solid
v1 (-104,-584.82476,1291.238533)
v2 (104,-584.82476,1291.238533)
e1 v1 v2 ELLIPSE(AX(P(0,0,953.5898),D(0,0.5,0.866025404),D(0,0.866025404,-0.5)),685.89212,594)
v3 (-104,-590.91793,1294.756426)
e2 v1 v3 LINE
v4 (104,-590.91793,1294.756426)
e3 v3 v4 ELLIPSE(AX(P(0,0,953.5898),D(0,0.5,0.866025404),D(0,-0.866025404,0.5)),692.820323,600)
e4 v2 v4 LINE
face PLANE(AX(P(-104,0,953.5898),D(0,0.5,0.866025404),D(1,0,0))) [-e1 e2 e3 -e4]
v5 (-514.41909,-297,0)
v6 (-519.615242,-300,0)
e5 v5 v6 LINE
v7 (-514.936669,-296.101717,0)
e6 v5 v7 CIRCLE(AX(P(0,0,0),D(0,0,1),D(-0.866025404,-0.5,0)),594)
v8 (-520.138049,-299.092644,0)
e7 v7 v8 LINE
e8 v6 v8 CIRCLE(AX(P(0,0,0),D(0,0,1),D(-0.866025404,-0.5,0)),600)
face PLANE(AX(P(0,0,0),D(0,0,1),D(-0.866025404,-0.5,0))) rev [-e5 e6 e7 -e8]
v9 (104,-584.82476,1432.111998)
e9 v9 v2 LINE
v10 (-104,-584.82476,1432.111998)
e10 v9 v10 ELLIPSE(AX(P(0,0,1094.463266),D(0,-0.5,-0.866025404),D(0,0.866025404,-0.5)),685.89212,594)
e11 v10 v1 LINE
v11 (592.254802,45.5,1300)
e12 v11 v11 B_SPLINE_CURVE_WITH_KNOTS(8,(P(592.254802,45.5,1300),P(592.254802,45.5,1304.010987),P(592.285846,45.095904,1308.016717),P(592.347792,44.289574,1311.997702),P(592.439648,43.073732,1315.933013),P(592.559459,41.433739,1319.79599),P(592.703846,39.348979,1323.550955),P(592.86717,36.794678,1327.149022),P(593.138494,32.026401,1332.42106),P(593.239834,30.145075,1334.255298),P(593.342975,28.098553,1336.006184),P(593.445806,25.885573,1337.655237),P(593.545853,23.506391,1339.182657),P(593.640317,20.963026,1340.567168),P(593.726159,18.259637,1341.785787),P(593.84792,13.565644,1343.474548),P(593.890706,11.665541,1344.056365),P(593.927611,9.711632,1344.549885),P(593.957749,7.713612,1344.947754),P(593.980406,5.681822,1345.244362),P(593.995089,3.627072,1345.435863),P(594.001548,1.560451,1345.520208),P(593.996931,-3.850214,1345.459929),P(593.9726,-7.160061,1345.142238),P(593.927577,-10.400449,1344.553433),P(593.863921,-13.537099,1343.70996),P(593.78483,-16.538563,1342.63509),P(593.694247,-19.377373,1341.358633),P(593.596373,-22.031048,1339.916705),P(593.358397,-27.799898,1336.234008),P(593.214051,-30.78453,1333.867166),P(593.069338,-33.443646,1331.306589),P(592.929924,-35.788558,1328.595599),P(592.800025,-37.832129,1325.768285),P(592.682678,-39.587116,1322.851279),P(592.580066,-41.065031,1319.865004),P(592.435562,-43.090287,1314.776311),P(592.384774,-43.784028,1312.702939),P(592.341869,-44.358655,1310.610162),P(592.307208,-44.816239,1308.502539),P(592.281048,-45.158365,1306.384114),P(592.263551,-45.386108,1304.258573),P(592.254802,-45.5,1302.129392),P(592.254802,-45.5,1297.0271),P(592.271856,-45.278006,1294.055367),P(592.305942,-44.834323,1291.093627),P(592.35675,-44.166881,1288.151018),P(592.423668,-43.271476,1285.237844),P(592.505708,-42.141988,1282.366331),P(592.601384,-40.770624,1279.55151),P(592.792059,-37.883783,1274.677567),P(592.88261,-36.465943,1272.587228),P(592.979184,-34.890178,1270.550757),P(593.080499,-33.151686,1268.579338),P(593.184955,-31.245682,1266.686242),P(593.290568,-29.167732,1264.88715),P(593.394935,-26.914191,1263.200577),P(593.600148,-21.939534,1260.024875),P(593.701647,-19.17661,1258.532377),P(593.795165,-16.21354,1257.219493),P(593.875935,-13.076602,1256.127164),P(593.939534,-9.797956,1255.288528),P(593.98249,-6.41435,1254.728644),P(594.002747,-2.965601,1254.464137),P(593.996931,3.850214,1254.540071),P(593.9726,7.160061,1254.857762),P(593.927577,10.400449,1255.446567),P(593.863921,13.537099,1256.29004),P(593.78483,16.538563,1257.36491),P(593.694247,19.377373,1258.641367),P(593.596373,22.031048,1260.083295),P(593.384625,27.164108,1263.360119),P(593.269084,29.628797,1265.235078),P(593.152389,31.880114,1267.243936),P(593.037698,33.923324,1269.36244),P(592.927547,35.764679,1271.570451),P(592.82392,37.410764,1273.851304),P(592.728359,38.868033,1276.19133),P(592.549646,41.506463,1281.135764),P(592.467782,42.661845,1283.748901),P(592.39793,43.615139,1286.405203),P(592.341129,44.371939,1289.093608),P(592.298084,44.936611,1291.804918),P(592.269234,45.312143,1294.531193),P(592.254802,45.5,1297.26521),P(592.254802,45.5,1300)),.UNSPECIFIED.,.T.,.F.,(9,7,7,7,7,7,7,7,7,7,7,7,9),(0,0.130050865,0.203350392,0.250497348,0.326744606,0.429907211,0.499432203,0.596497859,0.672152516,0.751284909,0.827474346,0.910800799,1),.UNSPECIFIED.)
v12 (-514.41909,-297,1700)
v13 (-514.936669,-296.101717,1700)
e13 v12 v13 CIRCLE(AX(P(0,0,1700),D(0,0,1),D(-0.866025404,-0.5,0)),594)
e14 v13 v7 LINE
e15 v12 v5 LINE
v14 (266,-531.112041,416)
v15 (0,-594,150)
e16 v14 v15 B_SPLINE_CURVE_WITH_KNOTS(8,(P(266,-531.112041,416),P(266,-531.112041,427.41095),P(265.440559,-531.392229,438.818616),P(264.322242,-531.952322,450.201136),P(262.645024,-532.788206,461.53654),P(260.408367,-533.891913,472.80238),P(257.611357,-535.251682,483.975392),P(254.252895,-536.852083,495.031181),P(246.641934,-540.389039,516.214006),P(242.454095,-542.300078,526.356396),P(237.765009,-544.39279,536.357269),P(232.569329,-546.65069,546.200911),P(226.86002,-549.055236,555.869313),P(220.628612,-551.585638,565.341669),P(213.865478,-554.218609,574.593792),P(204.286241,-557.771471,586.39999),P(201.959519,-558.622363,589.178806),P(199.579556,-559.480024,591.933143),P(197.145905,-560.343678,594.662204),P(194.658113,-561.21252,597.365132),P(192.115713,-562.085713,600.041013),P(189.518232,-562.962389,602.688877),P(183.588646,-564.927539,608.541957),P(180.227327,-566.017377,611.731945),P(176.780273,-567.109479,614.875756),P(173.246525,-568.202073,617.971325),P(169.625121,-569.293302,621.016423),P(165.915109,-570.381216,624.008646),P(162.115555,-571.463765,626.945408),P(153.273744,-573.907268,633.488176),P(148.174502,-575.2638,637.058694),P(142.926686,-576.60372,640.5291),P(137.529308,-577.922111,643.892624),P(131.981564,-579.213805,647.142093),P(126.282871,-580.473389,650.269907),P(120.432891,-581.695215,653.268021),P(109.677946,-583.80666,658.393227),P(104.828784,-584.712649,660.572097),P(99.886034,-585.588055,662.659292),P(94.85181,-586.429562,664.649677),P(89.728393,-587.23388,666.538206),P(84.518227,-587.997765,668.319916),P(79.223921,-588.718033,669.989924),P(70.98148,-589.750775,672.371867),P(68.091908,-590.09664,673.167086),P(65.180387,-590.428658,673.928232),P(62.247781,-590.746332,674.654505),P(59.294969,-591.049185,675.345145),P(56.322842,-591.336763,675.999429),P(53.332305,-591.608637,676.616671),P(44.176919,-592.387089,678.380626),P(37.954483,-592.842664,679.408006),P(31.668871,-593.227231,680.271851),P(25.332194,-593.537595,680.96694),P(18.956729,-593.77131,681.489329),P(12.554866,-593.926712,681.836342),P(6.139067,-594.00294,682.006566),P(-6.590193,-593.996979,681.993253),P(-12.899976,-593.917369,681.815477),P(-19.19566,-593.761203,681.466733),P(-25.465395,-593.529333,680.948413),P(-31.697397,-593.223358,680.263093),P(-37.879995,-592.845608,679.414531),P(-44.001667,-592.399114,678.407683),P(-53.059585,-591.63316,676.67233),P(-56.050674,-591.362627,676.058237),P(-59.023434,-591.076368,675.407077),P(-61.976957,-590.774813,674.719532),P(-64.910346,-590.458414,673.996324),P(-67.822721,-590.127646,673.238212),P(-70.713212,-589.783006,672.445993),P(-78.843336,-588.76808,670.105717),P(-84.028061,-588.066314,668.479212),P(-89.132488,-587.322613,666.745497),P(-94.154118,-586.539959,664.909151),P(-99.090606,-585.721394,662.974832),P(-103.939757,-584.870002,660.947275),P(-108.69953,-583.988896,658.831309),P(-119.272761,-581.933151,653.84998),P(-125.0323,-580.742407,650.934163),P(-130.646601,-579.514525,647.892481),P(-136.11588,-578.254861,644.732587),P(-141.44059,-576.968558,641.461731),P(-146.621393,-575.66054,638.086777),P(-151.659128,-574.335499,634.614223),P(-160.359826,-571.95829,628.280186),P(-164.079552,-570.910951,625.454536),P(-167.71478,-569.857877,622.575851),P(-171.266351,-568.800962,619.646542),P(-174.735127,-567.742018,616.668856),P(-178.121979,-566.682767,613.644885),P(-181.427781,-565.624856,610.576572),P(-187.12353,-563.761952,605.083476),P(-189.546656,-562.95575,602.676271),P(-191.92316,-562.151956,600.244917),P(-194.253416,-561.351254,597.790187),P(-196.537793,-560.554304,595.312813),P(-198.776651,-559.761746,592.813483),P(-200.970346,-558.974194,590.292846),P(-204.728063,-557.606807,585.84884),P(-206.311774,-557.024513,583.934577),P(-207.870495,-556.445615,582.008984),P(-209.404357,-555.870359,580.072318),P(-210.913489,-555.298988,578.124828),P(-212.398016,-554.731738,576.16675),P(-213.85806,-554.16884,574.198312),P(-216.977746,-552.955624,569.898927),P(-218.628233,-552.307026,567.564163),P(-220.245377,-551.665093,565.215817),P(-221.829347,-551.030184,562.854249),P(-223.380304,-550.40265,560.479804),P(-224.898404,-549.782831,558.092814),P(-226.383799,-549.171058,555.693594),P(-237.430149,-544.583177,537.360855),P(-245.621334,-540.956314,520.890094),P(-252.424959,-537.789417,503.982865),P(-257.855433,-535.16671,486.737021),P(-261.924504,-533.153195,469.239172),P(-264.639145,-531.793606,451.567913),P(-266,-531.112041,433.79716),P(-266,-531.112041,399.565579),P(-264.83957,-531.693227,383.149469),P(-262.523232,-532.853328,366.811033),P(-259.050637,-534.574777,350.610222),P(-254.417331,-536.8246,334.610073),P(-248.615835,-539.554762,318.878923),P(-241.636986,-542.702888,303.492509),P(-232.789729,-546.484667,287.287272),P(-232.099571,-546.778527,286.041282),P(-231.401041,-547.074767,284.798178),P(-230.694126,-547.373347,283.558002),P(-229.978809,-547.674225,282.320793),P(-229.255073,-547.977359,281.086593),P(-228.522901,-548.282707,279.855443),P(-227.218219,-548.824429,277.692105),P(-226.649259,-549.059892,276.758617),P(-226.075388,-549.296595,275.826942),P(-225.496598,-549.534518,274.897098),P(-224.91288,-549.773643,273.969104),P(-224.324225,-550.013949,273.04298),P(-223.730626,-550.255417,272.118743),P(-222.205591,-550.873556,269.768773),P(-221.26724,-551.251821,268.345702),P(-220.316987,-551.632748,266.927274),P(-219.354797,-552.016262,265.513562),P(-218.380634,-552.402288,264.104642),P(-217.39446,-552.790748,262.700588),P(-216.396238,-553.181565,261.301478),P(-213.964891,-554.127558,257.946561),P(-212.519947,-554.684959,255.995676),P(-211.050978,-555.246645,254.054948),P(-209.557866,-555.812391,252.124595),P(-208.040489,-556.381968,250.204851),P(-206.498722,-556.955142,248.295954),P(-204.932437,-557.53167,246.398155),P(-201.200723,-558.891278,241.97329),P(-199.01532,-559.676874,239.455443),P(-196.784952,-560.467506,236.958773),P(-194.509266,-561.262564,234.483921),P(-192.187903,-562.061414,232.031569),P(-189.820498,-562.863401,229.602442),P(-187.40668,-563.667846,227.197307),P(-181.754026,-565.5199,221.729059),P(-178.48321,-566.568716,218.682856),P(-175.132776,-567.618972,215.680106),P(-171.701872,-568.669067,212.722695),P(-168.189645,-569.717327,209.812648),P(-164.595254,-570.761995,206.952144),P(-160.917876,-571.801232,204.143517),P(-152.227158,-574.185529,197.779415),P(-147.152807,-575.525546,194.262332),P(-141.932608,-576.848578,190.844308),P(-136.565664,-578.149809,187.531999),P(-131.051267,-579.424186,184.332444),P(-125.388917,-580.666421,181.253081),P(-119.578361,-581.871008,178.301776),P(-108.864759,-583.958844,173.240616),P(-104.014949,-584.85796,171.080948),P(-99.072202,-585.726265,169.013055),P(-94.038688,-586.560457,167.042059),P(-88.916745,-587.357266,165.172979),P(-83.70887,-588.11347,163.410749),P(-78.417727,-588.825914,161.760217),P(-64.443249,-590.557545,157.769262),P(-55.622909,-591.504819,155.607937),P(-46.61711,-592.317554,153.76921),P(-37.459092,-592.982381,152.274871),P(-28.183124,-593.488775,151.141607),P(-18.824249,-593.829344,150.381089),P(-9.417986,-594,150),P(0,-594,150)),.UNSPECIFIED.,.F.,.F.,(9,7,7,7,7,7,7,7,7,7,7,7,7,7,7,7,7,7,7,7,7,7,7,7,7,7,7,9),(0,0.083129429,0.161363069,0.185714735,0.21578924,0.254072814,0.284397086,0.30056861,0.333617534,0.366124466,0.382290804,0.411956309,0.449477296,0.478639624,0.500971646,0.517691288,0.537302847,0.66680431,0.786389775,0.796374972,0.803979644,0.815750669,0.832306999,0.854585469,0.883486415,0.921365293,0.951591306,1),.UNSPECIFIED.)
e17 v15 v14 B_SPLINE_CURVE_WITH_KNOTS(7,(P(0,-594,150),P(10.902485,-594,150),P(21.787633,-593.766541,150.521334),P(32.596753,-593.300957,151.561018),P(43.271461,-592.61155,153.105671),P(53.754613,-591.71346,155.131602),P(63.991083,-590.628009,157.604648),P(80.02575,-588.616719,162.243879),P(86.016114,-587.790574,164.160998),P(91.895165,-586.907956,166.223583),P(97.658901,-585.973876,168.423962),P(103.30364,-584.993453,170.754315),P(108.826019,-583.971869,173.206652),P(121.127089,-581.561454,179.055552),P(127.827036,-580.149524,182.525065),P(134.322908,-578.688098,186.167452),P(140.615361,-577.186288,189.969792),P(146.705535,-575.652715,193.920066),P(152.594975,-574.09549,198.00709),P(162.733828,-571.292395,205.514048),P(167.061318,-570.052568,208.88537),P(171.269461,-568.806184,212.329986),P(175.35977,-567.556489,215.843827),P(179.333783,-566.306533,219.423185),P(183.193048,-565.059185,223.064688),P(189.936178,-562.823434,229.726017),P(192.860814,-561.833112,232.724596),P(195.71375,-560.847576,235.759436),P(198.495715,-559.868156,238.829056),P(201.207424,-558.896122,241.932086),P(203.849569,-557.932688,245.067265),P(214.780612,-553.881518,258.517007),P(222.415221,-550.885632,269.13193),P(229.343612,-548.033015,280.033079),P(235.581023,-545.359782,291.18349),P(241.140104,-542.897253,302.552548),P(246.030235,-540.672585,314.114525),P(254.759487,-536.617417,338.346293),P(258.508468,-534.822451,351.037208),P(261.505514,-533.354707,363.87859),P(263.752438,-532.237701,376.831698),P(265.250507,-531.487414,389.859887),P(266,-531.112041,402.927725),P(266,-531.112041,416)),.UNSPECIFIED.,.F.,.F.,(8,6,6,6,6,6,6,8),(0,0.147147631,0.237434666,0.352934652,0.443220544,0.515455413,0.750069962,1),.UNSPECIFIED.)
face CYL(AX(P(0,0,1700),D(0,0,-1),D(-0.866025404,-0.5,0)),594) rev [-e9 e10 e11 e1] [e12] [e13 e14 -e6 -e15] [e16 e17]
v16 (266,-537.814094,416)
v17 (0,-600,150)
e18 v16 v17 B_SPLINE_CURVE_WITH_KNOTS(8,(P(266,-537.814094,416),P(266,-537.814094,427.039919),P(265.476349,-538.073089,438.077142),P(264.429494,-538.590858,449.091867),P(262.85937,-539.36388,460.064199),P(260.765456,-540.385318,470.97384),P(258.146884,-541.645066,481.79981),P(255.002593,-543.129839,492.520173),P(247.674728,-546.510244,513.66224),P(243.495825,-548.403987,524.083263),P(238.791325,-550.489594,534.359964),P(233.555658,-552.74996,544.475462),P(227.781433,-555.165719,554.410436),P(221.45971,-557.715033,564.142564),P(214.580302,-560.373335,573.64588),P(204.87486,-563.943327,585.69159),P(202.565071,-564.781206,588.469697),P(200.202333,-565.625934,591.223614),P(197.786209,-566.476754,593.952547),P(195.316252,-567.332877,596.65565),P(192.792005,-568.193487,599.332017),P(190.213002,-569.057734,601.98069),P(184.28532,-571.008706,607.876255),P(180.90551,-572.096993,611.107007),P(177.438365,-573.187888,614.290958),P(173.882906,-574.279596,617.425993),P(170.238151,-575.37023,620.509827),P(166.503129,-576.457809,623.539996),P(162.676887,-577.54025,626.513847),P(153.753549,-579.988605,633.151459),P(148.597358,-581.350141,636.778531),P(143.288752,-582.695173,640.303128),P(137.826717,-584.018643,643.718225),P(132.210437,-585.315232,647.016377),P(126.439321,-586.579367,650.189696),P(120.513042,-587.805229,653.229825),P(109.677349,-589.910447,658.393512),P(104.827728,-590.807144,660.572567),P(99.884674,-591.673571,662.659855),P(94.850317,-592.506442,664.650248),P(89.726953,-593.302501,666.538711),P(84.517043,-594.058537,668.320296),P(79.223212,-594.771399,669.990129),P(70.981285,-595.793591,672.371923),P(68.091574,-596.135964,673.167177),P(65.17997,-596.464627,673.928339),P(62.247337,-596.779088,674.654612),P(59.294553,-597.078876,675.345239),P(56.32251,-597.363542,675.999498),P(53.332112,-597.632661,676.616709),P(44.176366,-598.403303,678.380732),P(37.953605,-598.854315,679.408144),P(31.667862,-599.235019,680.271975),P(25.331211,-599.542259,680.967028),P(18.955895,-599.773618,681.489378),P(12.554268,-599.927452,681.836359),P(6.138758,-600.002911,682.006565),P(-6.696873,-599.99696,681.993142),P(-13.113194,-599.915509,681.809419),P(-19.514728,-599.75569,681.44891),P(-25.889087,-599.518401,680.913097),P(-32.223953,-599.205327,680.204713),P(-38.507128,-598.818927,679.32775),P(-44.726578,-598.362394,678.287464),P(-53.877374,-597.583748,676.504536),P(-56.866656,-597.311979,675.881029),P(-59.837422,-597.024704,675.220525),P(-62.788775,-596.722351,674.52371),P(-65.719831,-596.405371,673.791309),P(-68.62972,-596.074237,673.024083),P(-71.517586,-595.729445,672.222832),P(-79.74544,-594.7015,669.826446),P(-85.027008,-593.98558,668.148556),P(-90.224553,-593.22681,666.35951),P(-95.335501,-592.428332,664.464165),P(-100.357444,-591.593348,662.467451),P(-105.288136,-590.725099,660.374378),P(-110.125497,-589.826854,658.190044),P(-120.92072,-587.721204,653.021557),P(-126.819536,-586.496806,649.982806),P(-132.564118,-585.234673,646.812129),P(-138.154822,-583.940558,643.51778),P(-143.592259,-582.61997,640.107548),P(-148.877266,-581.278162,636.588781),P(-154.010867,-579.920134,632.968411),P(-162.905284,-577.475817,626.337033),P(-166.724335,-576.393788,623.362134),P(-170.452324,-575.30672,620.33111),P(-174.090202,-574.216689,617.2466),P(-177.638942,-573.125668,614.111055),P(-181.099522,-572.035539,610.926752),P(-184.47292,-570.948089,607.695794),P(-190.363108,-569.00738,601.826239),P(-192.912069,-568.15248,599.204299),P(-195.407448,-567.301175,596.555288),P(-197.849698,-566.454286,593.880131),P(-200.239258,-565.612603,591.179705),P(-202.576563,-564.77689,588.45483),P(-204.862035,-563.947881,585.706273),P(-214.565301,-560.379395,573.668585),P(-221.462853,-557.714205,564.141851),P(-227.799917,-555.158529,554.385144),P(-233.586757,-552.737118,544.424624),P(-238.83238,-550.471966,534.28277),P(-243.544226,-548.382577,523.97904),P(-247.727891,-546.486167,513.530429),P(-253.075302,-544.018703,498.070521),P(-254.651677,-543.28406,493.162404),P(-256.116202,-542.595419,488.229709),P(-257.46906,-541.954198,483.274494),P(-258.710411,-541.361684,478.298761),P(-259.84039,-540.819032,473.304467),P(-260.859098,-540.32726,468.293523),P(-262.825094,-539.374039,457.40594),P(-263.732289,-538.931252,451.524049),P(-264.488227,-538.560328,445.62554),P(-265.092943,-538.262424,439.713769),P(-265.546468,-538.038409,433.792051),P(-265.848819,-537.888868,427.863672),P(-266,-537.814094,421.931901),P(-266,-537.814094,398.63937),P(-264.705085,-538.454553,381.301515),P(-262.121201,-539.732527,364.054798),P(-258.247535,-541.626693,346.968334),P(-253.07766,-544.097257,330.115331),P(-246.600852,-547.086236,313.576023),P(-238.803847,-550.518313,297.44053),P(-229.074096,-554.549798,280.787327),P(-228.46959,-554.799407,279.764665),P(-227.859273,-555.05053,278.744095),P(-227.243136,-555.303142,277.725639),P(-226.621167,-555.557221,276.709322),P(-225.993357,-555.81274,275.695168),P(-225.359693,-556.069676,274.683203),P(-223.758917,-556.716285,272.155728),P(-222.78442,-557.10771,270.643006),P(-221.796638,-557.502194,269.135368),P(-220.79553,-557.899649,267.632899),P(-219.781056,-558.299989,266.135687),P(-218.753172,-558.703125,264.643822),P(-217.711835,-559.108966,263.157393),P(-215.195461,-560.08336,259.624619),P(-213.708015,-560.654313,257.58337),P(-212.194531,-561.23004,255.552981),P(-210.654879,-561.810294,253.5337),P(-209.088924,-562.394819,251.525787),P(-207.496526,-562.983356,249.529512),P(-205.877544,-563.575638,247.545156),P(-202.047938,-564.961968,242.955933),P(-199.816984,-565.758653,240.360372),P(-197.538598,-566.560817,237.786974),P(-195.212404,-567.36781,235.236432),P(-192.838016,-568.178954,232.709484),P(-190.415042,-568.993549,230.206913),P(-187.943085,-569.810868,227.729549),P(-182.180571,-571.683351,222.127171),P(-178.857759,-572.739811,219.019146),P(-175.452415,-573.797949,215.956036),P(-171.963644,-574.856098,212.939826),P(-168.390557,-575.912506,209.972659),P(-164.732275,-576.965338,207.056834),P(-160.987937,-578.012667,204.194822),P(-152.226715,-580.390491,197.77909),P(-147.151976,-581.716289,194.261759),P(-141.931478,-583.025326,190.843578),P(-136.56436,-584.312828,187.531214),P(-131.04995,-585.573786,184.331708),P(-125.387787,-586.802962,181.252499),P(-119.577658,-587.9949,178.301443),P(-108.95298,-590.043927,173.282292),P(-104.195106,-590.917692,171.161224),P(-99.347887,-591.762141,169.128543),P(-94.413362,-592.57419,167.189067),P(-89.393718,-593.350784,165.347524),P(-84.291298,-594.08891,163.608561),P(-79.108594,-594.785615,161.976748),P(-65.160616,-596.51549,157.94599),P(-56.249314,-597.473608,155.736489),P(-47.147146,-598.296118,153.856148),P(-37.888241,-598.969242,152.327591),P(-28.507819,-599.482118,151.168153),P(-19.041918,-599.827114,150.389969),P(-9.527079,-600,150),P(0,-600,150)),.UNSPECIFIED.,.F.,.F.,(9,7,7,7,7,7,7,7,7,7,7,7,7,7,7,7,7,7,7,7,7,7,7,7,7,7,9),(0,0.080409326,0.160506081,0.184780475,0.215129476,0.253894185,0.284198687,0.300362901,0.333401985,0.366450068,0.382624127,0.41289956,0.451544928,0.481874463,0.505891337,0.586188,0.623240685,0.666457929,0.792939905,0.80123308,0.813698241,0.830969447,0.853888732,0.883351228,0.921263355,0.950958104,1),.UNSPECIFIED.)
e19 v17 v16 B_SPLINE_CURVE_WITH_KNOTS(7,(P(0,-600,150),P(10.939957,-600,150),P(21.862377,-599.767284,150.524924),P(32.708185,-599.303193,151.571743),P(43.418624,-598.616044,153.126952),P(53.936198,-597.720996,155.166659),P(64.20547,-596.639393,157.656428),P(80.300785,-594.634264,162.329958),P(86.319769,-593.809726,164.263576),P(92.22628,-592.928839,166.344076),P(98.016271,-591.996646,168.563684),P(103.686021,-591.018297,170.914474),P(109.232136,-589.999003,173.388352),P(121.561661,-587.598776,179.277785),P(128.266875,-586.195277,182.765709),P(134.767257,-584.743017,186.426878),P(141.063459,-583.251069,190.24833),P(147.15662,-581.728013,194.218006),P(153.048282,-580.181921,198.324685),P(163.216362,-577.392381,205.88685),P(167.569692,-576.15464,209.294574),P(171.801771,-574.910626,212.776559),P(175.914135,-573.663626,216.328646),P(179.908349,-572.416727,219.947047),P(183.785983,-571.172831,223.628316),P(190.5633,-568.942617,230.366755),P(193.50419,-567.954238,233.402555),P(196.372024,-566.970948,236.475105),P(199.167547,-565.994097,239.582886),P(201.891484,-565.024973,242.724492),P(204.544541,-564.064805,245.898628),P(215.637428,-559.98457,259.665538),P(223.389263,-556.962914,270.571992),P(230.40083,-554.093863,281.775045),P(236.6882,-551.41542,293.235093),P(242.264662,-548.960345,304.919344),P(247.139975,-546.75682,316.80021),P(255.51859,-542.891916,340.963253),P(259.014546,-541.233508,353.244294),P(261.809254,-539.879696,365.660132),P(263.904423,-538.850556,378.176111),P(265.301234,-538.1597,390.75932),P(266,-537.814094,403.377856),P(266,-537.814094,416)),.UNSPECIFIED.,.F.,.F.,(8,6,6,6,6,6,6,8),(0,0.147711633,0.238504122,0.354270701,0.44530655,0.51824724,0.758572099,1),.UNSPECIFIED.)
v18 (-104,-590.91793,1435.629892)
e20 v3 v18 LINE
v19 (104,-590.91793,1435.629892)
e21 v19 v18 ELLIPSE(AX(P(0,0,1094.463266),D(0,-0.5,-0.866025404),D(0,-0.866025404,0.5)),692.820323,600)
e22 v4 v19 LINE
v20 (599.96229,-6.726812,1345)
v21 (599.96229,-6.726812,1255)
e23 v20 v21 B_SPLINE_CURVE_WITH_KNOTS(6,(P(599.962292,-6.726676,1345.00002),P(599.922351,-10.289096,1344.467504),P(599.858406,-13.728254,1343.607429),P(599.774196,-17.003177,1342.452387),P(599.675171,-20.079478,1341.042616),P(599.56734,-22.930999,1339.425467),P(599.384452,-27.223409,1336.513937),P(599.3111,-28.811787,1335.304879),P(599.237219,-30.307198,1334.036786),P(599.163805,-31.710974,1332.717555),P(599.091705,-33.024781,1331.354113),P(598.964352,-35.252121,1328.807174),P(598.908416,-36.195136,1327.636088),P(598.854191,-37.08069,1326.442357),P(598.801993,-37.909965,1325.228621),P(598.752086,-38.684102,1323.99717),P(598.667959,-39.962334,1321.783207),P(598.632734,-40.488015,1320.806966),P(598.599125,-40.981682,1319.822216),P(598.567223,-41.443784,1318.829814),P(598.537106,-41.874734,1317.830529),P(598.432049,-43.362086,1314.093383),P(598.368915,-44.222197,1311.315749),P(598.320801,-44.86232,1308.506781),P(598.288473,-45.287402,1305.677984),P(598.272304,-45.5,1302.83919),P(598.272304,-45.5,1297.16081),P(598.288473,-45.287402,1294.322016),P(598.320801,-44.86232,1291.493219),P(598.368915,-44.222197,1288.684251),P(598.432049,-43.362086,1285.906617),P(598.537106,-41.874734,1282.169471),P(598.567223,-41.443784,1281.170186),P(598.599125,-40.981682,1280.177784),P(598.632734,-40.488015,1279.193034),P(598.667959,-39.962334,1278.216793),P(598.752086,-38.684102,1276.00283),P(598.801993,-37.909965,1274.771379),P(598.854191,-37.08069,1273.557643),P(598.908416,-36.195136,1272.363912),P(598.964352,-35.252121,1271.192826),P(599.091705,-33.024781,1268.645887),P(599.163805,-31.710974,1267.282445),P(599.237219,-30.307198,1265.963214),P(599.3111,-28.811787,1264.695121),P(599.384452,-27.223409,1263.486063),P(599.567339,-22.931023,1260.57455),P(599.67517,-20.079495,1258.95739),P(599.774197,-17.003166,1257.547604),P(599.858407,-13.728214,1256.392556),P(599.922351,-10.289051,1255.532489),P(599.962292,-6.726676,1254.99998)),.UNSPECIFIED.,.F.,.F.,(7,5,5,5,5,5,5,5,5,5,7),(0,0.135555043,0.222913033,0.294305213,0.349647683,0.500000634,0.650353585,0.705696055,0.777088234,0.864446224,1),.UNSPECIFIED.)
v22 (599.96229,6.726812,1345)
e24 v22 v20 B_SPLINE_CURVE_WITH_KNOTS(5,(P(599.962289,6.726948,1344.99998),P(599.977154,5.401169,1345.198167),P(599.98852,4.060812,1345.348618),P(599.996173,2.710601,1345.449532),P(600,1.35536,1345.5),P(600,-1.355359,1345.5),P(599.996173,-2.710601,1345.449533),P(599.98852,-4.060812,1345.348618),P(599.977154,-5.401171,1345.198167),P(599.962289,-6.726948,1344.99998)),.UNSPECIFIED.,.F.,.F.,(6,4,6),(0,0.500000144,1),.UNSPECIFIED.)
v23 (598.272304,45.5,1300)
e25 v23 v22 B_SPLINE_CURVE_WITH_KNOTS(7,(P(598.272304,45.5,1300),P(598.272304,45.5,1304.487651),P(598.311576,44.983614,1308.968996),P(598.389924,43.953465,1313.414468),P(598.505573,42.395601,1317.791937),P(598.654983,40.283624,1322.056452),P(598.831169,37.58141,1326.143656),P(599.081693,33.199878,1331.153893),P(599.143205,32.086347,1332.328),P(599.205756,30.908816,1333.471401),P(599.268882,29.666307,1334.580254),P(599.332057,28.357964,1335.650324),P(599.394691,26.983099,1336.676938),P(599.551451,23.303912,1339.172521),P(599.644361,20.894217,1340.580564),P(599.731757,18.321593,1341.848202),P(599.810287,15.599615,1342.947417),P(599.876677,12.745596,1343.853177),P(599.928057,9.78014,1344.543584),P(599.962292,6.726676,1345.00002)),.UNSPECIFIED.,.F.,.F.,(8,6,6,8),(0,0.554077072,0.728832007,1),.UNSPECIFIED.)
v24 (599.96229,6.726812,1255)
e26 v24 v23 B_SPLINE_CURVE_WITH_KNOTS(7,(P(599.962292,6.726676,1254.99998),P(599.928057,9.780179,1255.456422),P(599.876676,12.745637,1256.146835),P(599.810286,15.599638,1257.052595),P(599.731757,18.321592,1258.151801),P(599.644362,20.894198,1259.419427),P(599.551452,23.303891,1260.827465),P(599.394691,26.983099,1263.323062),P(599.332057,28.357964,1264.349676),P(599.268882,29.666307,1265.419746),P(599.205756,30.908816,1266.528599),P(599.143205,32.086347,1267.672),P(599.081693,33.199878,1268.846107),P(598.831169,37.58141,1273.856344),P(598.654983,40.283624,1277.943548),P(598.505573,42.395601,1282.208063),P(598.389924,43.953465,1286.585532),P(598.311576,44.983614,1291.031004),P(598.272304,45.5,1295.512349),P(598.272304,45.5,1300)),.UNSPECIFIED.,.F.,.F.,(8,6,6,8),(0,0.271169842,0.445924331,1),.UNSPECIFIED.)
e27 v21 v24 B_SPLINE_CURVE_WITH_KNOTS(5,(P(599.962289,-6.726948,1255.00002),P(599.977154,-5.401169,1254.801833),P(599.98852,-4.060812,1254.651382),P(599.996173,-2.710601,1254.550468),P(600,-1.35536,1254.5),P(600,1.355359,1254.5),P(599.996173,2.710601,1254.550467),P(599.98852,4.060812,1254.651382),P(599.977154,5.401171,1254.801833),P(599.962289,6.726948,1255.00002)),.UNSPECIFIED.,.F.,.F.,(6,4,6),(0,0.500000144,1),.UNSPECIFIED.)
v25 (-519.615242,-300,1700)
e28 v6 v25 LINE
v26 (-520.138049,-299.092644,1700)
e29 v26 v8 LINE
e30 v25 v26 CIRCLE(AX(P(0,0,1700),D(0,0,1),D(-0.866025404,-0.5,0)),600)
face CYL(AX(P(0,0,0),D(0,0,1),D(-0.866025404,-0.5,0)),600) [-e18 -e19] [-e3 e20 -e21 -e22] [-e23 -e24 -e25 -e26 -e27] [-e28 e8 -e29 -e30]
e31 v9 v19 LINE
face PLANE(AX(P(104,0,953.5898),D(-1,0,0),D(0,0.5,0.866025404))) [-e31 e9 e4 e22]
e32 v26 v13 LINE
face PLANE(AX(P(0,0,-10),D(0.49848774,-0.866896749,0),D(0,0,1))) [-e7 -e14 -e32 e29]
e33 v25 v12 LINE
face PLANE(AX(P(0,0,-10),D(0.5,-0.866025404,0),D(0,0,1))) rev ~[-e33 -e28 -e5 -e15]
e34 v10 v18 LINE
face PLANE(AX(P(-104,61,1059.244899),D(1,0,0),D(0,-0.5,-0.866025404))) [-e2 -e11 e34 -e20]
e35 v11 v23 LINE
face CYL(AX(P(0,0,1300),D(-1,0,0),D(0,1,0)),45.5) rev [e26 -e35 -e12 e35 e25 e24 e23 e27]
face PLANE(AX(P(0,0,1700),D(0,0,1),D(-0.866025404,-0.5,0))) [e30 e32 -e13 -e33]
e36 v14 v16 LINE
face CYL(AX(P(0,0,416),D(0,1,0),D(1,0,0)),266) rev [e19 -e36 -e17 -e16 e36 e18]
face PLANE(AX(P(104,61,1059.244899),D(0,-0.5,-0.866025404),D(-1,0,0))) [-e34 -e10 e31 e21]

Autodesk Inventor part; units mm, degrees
sketch "Sketch13" plane through (0, 0, 0) normal (0, 0, 1) x (1, 0, 0)
  circle A0 centre (0, 0) radius 600 construction
  line L0 (0, 0) -> (0, -600)
  line L1 (0, 0) -> (-519.6152, -300)
  line L2 (0, 0) -> (600, 0)
  line L3 (0, 0) -> (0, -600)
  line L4 (0, 0) -> (0, -600)
  line L5 (0, 0) -> (534.6039, 272.3943)
  line L6 (0, 0) -> (0, 600)
  dimension "d53" = 1200
  dimension "d55" = 0
  dimension "d98" = 180
  dimension "d99" = 240
  dimension "d100" = 63
  dimension "d101" = 90
ref_plane "WeldJoint" through (0, 0, -10) normal (0.5, -0.866, 0) x (0, 0, 1)
ref_plane "Inlet_Clock_Angle_plane" through (0, 0, -10) normal (0, 1, 0) x (0, 0, 1)
ref_plane "Charging" through (0, 0, -10) normal (1, 0, 0) x (0, 0, 1)
ref_plane "Accsess" through (0, 0, -10) normal (1, 0, 0) x (0, 0, 1)
sketch "Sketch14" plane through (0, 0, -10) normal (0.5, -0.866, 0) x (0, 0, 1)
  line L0 (1710, 594) -> (10, 594)
  line L1 (10, 594) -> (10, 600)
  line L2 (10, 600) -> (1710, 600)
  line L3 (1710, 600) -> (1710, 594)
  line L4 (10, 0) -> (1710, 0)
  line L5 (10, 600) -> (-20, 600) construction
  line L6 (10, 594) -> (-20, 594) construction
  arc A0 (-20, 594) -> (-109.2789, 539.0476) centre (-20, 494) ccw construction
  arc A1 (-109.2789, 539.0476) -> (-234, 15) centre (929.3202, 15) ccw construction
  line L7 (-234, 15) -> (-234, 0) construction
  line L8 (10, 0) -> (-234, 0) construction
  arc A2 (-20, 600) -> (-114.6356, 541.7504) centre (-20, 494) ccw construction
  arc A3 (-114.6356, 541.7504) -> (-240, 15) centre (929.3202, 15) ccw construction
  line L9 (-240, 15) -> (-240, 0) construction
  line L10 (-234, 0) -> (-240, 0) construction
  line L11 (1710, 594) -> (1740, 594)
  line L12 (1710, 600) -> (1740, 600)
  line L13 (1710, 0) -> (1954, 0) construction
  line L14 (1960, 0) -> (1960, 15) construction
  arc A4 (1960, 15) -> (1834.6356, 541.7504) centre (790.6798, 15) ccw construction
  arc A5 (1834.6356, 541.7504) -> (1740, 600) centre (1740, 494) ccw construction
  line L15 (1954, 0) -> (1954, 15) construction
  line L16 (1954, 0) -> (1960, 0) construction
  arc A6 (1954, 15) -> (1829.2789, 539.0476) centre (790.6798, 15) ccw construction
  arc A7 (1829.2789, 539.0476) -> (1740, 594) centre (1740, 494) ccw construction
  line L17 (-160.8038, 520) -> (-540, 520)
  line L18 (-540, 520) -> (-540, 440)
  line L19 (-540, 440) -> (-160.8038, 440)
  line L20 (-160.8038, 440) -> (-160.8038, 520)
  line L21 (1960, 15) -> (1990, 15) construction
  line L22 (1990, 15) -> (1990, 0) construction
  line L23 (1990, 0) -> (1960, 0) construction
  line L24 (-540, 600) -> (-540, 520)
  line L25 (-540, 600) -> (-534, 600)
  line L26 (-534, 600) -> (-534, 520)
  line L27 (-120.3984, 533.7757) -> (-168.7178, 421.6324)
  line L28 (-160.8038, 520) -> (-126.334, 520)
  line L29 (-109.2789, 539.0476) -> (-114.6356, 541.7504)
  line L30 (-120.3984, 533.7757) -> (-116.5468, 542.7148) construction
  line L31 (-116.5468, 542.7148) -> (-114.6356, 541.7504) construction
  line L32 (-540, 600) -> (-540, 600)
  line L33 (-540, 600) -> (-540, 440)
  line L34 (-540, 440) -> (-540, 440)
  line L35 (1355, 600) -> (1265, 600)
  line L36 (1265, 600) -> (1265, 700)
  line L37 (1265, 700) -> (1355, 700)
  line L38 (1355, 700) -> (1355, 600)
  point P0 (10, 597)
  point P1 (-144.5581, 477.7041)
  point P2 (1310, 700)
  dimension "d59" = 1700
  dimension "d60" = 6
  dimension "d61" = 1200
  dimension "d82" = 100
  dimension "d83" = 30
  dimension "d86" = 80
  dimension "d87" = 30
  dimension "d91" = 15
  dimension "d92" = 20
  dimension "d93" = 250
  dimension "d94" = 30
  dimension "d103" = 413.666
  dimension "d104" = 23.31
  dimension "d105" = 122.1101
  dimension "d107" = 9.7336
  dimension "d108" = 880
  dimension "d109" = 0
  dimension "d110" = 2530
  dimension "d111" = 300
  dimension "d112" = 100
  dimension "d113" = 90
  dimension "d114" = 1850
  dimension "d115" = 1300
  dimension "d116" = 80
revolve "Revolution2" add sketch "Sketch14" angle 359.9 about axis through (0, 0, 0) along (0, 0, 1) contours L0 L1 L2 L3
sketch "Sketch AnglePlane_InletPipe" plane through (0, 0, -10) normal (0, 1, 0) x (0, 0, 1)
  line L0 (10, -600) -> (10, 600) projected
  line L1 (10, 0) -> (1310, 0)
  line L2 (1310, 0) -> (1310, 600)
  line L3 (1310, 600) -> (10, 600)
  line L4 (10, 600) -> (10, 0)
  point P0 (10, -519.6152)
  point P1 (10, -520.138)
  dimension "d63" = 1200
  dimension "d64" = 90
  dimension "frd_hght" = 1300
ref_plane "InletPipe_AnglePlane" through (0, 0, 1300) normal (1, 0, 0) x (0, 1, 0)
sketch "Sketch16" plane through (0, 0, 1300) normal (1, 0, 0) x (0, 1, 0)
  circle A0 centre (0, 0) radius 45.5
  point P0 (0, -1300)
  point P1 (0, 0)
  point P2 (0, 0)
  point P3 (0, 0)
  dimension "d66" = 91
extrude "Extrusion7" cut sketch "Sketch16" along normal through all
ref_plane "Work Plane16" through (0, 0, 0) normal (0, -1, 0) x (1, 0, 0)
sketch "Sketch17" plane through (0, 0, 0) normal (0, -1, 0) x (1, 0, 0)
  circle A0 centre (0, 416) radius 266
  line L0 (0, 150) -> (-495.5727, 150)
  point P0 (0, 0)
  dimension "d69" = 532
  dimension "d71" = 150
extrude "Extrusion8" cut sketch "Sketch17" along normal through all
sketch "ChargingAngleSketch19" plane through (0, 0, -10) normal (1, 0, 0) x (0, 0, 1)
  line L0 (10, 0) -> (963.5898, 0)
  line L1 (963.5898, 0) -> (1310, 600)
  line L2 (1310, 600) -> (10, 600)
  line L3 (10, 600) -> (10, 0)
  dimension "d74" = 1300
  dimension "d76" = 1200
  dimension "d77" = 60
ref_plane "Work Plane18" through (0, 0, 953.5898) normal (0, -0.866, 0.5) x (1, 0, 0)
sketch "Sketch20" plane through (0, 0, 953.5898) normal (0, -0.866, 0.5) x (1, 0, 0)
  line L0 (-104, 0) -> (104, 0)
  line L1 (104, 0) -> (104, 122)
  line L2 (104, 122) -> (-104, 122)
  line L3 (-104, 122) -> (-104, 0)
  point P0 (0, -825.833)
  point P1 (0, 0)
  point P2 (0, 0)
  point P3 (0, 0)
  point P4 (0, 0)
  dimension "d78" = 208
  dimension "d79" = 122
extrude "Charging hole" cut sketch "Sketch20" along normal through all
sketch "Sketch1" plane through (0, -1700, 0) normal (0, 0, 1) x (1, 0, 0)
  line L0 (520.8574, 1294.7565) -> (520.8574, 1435.6299) projected
  line L1 (728.7425, 1435.6299) -> (728.7425, 1294.7565) projected
  line L2 (532.8574, 1424.7204) -> (532.8574, 1307.9421)
  line L3 (716.7425, 1307.9421) -> (716.7425, 1424.7204)
  line L4 (624.7999, 682) -> (624.7999, 150) construction
  line L5 (350.7548, 416) -> (898.8451, 416) construction
  line L6 (1728.1139, 1564.2642) -> (1182.3519, -339.0339)
  line L7 (1182.3519, -339.0339) -> (0, 0)
  line L8 (0, 0) -> (545.762, 1903.2982)
  line L9 (545.762, 1903.2982) -> (1728.1139, 1564.2642)
  line L10 (1728.1139, 1564.2642) -> (0, 0) construction
  line L11 (1182.3519, -339.0339) -> (545.762, 1903.2982) construction
  line L12 (0, 0) -> (1279.5683, 0)
  line L13 (0, 1700) -> (0, 0) projected
  line L14 (0, 0) -> (3747.7583, 0) projected
  line L15 (0, 1700) -> (3747.7583, 1700) projected
  line L16 (3747.7583, 1700) -> (3747.7583, 0) projected
  ellipse E0 centre (624.7999, 416) end of major axis (624.7999, 150) minor radius 279
  line L17 (509.8574, 1445.5785) -> (509.8574, 1282.5939)
  line L18 (739.7425, 1282.5939) -> (739.7425, 1445.5785)
  point P0 (864.0569, 782.1321)
  point P1 (1516.7112, 1300)
  point P2 (1607.2885, 1300)
  point P3 (1595.2885, 1300)
  point P4 (1528.7112, 1300)
  point P5 (1254.7469, 1700)
  point P6 (487.4672, 1700)
  point P7 (729.8034, 1432.112)
  point P8 (519.7965, 1432.112)
  point P9 (520.8574, 1432.2183)
  point P10 (728.7425, 1432.2183)
  point P11 (1618.2885, 1300)
  point P12 (1505.7112, 1300)
  dimension "d0" = 12
  dimension "d10" = 12
  dimension "d13" = 279
  dimension "d15" = 11
  dimension "d16" = 11
  dimension "d17" = 11
  dimension "d3" = 532
  dimension "d4" = 548.0902
  dimension "d6" = 1980
  dimension "d8" = 1230
  dimension "d9" = 16
  dimension "d14" = 12
equation "\"BendRadius\" = Thickness"
equation "\"BendReliefWidth\" = Thickness"
equation "\"BendReliefDepth\" = 0.5 * Thickness"
equation "\"CornerReliefSize\" = 4 * Thickness"
equation "\"MinimumRemnant\" = 2 * Thickness"
equation "\"TransitionRadius\" = BendRadius"
equation "\"JacobiRadiusSize\" = BendRadius"
equation "\"GapSize\" = Thickness"
equation "\"InletPipe_horisont_angle\" = 0"
equation "\"ChargingHatch_width\" = 208"
equation "\"ChargingHatch_hight\" = 122"
equation "\"AccsessHatch_ClockAngle\" = 0"
equation "\"ChargingHatch_ClockAgnle\" = 180deg"
equation "\"InletPipe_Clock_angle\" = 90deg"
equation "\"OutletPipe_ClockAngle\" = 63deg"
equation "\"WeldJoint_ClockAgnle\" = 240deg"
equation "\"Legs_Tube_lenght\" = 413.666"
equation "\"Legs_Upper_plate_lenght\" = 122.11007"
equation "\"Thickness\" = 6"
properties part number "PRS 0101 main shell D1200" material "Steel"
